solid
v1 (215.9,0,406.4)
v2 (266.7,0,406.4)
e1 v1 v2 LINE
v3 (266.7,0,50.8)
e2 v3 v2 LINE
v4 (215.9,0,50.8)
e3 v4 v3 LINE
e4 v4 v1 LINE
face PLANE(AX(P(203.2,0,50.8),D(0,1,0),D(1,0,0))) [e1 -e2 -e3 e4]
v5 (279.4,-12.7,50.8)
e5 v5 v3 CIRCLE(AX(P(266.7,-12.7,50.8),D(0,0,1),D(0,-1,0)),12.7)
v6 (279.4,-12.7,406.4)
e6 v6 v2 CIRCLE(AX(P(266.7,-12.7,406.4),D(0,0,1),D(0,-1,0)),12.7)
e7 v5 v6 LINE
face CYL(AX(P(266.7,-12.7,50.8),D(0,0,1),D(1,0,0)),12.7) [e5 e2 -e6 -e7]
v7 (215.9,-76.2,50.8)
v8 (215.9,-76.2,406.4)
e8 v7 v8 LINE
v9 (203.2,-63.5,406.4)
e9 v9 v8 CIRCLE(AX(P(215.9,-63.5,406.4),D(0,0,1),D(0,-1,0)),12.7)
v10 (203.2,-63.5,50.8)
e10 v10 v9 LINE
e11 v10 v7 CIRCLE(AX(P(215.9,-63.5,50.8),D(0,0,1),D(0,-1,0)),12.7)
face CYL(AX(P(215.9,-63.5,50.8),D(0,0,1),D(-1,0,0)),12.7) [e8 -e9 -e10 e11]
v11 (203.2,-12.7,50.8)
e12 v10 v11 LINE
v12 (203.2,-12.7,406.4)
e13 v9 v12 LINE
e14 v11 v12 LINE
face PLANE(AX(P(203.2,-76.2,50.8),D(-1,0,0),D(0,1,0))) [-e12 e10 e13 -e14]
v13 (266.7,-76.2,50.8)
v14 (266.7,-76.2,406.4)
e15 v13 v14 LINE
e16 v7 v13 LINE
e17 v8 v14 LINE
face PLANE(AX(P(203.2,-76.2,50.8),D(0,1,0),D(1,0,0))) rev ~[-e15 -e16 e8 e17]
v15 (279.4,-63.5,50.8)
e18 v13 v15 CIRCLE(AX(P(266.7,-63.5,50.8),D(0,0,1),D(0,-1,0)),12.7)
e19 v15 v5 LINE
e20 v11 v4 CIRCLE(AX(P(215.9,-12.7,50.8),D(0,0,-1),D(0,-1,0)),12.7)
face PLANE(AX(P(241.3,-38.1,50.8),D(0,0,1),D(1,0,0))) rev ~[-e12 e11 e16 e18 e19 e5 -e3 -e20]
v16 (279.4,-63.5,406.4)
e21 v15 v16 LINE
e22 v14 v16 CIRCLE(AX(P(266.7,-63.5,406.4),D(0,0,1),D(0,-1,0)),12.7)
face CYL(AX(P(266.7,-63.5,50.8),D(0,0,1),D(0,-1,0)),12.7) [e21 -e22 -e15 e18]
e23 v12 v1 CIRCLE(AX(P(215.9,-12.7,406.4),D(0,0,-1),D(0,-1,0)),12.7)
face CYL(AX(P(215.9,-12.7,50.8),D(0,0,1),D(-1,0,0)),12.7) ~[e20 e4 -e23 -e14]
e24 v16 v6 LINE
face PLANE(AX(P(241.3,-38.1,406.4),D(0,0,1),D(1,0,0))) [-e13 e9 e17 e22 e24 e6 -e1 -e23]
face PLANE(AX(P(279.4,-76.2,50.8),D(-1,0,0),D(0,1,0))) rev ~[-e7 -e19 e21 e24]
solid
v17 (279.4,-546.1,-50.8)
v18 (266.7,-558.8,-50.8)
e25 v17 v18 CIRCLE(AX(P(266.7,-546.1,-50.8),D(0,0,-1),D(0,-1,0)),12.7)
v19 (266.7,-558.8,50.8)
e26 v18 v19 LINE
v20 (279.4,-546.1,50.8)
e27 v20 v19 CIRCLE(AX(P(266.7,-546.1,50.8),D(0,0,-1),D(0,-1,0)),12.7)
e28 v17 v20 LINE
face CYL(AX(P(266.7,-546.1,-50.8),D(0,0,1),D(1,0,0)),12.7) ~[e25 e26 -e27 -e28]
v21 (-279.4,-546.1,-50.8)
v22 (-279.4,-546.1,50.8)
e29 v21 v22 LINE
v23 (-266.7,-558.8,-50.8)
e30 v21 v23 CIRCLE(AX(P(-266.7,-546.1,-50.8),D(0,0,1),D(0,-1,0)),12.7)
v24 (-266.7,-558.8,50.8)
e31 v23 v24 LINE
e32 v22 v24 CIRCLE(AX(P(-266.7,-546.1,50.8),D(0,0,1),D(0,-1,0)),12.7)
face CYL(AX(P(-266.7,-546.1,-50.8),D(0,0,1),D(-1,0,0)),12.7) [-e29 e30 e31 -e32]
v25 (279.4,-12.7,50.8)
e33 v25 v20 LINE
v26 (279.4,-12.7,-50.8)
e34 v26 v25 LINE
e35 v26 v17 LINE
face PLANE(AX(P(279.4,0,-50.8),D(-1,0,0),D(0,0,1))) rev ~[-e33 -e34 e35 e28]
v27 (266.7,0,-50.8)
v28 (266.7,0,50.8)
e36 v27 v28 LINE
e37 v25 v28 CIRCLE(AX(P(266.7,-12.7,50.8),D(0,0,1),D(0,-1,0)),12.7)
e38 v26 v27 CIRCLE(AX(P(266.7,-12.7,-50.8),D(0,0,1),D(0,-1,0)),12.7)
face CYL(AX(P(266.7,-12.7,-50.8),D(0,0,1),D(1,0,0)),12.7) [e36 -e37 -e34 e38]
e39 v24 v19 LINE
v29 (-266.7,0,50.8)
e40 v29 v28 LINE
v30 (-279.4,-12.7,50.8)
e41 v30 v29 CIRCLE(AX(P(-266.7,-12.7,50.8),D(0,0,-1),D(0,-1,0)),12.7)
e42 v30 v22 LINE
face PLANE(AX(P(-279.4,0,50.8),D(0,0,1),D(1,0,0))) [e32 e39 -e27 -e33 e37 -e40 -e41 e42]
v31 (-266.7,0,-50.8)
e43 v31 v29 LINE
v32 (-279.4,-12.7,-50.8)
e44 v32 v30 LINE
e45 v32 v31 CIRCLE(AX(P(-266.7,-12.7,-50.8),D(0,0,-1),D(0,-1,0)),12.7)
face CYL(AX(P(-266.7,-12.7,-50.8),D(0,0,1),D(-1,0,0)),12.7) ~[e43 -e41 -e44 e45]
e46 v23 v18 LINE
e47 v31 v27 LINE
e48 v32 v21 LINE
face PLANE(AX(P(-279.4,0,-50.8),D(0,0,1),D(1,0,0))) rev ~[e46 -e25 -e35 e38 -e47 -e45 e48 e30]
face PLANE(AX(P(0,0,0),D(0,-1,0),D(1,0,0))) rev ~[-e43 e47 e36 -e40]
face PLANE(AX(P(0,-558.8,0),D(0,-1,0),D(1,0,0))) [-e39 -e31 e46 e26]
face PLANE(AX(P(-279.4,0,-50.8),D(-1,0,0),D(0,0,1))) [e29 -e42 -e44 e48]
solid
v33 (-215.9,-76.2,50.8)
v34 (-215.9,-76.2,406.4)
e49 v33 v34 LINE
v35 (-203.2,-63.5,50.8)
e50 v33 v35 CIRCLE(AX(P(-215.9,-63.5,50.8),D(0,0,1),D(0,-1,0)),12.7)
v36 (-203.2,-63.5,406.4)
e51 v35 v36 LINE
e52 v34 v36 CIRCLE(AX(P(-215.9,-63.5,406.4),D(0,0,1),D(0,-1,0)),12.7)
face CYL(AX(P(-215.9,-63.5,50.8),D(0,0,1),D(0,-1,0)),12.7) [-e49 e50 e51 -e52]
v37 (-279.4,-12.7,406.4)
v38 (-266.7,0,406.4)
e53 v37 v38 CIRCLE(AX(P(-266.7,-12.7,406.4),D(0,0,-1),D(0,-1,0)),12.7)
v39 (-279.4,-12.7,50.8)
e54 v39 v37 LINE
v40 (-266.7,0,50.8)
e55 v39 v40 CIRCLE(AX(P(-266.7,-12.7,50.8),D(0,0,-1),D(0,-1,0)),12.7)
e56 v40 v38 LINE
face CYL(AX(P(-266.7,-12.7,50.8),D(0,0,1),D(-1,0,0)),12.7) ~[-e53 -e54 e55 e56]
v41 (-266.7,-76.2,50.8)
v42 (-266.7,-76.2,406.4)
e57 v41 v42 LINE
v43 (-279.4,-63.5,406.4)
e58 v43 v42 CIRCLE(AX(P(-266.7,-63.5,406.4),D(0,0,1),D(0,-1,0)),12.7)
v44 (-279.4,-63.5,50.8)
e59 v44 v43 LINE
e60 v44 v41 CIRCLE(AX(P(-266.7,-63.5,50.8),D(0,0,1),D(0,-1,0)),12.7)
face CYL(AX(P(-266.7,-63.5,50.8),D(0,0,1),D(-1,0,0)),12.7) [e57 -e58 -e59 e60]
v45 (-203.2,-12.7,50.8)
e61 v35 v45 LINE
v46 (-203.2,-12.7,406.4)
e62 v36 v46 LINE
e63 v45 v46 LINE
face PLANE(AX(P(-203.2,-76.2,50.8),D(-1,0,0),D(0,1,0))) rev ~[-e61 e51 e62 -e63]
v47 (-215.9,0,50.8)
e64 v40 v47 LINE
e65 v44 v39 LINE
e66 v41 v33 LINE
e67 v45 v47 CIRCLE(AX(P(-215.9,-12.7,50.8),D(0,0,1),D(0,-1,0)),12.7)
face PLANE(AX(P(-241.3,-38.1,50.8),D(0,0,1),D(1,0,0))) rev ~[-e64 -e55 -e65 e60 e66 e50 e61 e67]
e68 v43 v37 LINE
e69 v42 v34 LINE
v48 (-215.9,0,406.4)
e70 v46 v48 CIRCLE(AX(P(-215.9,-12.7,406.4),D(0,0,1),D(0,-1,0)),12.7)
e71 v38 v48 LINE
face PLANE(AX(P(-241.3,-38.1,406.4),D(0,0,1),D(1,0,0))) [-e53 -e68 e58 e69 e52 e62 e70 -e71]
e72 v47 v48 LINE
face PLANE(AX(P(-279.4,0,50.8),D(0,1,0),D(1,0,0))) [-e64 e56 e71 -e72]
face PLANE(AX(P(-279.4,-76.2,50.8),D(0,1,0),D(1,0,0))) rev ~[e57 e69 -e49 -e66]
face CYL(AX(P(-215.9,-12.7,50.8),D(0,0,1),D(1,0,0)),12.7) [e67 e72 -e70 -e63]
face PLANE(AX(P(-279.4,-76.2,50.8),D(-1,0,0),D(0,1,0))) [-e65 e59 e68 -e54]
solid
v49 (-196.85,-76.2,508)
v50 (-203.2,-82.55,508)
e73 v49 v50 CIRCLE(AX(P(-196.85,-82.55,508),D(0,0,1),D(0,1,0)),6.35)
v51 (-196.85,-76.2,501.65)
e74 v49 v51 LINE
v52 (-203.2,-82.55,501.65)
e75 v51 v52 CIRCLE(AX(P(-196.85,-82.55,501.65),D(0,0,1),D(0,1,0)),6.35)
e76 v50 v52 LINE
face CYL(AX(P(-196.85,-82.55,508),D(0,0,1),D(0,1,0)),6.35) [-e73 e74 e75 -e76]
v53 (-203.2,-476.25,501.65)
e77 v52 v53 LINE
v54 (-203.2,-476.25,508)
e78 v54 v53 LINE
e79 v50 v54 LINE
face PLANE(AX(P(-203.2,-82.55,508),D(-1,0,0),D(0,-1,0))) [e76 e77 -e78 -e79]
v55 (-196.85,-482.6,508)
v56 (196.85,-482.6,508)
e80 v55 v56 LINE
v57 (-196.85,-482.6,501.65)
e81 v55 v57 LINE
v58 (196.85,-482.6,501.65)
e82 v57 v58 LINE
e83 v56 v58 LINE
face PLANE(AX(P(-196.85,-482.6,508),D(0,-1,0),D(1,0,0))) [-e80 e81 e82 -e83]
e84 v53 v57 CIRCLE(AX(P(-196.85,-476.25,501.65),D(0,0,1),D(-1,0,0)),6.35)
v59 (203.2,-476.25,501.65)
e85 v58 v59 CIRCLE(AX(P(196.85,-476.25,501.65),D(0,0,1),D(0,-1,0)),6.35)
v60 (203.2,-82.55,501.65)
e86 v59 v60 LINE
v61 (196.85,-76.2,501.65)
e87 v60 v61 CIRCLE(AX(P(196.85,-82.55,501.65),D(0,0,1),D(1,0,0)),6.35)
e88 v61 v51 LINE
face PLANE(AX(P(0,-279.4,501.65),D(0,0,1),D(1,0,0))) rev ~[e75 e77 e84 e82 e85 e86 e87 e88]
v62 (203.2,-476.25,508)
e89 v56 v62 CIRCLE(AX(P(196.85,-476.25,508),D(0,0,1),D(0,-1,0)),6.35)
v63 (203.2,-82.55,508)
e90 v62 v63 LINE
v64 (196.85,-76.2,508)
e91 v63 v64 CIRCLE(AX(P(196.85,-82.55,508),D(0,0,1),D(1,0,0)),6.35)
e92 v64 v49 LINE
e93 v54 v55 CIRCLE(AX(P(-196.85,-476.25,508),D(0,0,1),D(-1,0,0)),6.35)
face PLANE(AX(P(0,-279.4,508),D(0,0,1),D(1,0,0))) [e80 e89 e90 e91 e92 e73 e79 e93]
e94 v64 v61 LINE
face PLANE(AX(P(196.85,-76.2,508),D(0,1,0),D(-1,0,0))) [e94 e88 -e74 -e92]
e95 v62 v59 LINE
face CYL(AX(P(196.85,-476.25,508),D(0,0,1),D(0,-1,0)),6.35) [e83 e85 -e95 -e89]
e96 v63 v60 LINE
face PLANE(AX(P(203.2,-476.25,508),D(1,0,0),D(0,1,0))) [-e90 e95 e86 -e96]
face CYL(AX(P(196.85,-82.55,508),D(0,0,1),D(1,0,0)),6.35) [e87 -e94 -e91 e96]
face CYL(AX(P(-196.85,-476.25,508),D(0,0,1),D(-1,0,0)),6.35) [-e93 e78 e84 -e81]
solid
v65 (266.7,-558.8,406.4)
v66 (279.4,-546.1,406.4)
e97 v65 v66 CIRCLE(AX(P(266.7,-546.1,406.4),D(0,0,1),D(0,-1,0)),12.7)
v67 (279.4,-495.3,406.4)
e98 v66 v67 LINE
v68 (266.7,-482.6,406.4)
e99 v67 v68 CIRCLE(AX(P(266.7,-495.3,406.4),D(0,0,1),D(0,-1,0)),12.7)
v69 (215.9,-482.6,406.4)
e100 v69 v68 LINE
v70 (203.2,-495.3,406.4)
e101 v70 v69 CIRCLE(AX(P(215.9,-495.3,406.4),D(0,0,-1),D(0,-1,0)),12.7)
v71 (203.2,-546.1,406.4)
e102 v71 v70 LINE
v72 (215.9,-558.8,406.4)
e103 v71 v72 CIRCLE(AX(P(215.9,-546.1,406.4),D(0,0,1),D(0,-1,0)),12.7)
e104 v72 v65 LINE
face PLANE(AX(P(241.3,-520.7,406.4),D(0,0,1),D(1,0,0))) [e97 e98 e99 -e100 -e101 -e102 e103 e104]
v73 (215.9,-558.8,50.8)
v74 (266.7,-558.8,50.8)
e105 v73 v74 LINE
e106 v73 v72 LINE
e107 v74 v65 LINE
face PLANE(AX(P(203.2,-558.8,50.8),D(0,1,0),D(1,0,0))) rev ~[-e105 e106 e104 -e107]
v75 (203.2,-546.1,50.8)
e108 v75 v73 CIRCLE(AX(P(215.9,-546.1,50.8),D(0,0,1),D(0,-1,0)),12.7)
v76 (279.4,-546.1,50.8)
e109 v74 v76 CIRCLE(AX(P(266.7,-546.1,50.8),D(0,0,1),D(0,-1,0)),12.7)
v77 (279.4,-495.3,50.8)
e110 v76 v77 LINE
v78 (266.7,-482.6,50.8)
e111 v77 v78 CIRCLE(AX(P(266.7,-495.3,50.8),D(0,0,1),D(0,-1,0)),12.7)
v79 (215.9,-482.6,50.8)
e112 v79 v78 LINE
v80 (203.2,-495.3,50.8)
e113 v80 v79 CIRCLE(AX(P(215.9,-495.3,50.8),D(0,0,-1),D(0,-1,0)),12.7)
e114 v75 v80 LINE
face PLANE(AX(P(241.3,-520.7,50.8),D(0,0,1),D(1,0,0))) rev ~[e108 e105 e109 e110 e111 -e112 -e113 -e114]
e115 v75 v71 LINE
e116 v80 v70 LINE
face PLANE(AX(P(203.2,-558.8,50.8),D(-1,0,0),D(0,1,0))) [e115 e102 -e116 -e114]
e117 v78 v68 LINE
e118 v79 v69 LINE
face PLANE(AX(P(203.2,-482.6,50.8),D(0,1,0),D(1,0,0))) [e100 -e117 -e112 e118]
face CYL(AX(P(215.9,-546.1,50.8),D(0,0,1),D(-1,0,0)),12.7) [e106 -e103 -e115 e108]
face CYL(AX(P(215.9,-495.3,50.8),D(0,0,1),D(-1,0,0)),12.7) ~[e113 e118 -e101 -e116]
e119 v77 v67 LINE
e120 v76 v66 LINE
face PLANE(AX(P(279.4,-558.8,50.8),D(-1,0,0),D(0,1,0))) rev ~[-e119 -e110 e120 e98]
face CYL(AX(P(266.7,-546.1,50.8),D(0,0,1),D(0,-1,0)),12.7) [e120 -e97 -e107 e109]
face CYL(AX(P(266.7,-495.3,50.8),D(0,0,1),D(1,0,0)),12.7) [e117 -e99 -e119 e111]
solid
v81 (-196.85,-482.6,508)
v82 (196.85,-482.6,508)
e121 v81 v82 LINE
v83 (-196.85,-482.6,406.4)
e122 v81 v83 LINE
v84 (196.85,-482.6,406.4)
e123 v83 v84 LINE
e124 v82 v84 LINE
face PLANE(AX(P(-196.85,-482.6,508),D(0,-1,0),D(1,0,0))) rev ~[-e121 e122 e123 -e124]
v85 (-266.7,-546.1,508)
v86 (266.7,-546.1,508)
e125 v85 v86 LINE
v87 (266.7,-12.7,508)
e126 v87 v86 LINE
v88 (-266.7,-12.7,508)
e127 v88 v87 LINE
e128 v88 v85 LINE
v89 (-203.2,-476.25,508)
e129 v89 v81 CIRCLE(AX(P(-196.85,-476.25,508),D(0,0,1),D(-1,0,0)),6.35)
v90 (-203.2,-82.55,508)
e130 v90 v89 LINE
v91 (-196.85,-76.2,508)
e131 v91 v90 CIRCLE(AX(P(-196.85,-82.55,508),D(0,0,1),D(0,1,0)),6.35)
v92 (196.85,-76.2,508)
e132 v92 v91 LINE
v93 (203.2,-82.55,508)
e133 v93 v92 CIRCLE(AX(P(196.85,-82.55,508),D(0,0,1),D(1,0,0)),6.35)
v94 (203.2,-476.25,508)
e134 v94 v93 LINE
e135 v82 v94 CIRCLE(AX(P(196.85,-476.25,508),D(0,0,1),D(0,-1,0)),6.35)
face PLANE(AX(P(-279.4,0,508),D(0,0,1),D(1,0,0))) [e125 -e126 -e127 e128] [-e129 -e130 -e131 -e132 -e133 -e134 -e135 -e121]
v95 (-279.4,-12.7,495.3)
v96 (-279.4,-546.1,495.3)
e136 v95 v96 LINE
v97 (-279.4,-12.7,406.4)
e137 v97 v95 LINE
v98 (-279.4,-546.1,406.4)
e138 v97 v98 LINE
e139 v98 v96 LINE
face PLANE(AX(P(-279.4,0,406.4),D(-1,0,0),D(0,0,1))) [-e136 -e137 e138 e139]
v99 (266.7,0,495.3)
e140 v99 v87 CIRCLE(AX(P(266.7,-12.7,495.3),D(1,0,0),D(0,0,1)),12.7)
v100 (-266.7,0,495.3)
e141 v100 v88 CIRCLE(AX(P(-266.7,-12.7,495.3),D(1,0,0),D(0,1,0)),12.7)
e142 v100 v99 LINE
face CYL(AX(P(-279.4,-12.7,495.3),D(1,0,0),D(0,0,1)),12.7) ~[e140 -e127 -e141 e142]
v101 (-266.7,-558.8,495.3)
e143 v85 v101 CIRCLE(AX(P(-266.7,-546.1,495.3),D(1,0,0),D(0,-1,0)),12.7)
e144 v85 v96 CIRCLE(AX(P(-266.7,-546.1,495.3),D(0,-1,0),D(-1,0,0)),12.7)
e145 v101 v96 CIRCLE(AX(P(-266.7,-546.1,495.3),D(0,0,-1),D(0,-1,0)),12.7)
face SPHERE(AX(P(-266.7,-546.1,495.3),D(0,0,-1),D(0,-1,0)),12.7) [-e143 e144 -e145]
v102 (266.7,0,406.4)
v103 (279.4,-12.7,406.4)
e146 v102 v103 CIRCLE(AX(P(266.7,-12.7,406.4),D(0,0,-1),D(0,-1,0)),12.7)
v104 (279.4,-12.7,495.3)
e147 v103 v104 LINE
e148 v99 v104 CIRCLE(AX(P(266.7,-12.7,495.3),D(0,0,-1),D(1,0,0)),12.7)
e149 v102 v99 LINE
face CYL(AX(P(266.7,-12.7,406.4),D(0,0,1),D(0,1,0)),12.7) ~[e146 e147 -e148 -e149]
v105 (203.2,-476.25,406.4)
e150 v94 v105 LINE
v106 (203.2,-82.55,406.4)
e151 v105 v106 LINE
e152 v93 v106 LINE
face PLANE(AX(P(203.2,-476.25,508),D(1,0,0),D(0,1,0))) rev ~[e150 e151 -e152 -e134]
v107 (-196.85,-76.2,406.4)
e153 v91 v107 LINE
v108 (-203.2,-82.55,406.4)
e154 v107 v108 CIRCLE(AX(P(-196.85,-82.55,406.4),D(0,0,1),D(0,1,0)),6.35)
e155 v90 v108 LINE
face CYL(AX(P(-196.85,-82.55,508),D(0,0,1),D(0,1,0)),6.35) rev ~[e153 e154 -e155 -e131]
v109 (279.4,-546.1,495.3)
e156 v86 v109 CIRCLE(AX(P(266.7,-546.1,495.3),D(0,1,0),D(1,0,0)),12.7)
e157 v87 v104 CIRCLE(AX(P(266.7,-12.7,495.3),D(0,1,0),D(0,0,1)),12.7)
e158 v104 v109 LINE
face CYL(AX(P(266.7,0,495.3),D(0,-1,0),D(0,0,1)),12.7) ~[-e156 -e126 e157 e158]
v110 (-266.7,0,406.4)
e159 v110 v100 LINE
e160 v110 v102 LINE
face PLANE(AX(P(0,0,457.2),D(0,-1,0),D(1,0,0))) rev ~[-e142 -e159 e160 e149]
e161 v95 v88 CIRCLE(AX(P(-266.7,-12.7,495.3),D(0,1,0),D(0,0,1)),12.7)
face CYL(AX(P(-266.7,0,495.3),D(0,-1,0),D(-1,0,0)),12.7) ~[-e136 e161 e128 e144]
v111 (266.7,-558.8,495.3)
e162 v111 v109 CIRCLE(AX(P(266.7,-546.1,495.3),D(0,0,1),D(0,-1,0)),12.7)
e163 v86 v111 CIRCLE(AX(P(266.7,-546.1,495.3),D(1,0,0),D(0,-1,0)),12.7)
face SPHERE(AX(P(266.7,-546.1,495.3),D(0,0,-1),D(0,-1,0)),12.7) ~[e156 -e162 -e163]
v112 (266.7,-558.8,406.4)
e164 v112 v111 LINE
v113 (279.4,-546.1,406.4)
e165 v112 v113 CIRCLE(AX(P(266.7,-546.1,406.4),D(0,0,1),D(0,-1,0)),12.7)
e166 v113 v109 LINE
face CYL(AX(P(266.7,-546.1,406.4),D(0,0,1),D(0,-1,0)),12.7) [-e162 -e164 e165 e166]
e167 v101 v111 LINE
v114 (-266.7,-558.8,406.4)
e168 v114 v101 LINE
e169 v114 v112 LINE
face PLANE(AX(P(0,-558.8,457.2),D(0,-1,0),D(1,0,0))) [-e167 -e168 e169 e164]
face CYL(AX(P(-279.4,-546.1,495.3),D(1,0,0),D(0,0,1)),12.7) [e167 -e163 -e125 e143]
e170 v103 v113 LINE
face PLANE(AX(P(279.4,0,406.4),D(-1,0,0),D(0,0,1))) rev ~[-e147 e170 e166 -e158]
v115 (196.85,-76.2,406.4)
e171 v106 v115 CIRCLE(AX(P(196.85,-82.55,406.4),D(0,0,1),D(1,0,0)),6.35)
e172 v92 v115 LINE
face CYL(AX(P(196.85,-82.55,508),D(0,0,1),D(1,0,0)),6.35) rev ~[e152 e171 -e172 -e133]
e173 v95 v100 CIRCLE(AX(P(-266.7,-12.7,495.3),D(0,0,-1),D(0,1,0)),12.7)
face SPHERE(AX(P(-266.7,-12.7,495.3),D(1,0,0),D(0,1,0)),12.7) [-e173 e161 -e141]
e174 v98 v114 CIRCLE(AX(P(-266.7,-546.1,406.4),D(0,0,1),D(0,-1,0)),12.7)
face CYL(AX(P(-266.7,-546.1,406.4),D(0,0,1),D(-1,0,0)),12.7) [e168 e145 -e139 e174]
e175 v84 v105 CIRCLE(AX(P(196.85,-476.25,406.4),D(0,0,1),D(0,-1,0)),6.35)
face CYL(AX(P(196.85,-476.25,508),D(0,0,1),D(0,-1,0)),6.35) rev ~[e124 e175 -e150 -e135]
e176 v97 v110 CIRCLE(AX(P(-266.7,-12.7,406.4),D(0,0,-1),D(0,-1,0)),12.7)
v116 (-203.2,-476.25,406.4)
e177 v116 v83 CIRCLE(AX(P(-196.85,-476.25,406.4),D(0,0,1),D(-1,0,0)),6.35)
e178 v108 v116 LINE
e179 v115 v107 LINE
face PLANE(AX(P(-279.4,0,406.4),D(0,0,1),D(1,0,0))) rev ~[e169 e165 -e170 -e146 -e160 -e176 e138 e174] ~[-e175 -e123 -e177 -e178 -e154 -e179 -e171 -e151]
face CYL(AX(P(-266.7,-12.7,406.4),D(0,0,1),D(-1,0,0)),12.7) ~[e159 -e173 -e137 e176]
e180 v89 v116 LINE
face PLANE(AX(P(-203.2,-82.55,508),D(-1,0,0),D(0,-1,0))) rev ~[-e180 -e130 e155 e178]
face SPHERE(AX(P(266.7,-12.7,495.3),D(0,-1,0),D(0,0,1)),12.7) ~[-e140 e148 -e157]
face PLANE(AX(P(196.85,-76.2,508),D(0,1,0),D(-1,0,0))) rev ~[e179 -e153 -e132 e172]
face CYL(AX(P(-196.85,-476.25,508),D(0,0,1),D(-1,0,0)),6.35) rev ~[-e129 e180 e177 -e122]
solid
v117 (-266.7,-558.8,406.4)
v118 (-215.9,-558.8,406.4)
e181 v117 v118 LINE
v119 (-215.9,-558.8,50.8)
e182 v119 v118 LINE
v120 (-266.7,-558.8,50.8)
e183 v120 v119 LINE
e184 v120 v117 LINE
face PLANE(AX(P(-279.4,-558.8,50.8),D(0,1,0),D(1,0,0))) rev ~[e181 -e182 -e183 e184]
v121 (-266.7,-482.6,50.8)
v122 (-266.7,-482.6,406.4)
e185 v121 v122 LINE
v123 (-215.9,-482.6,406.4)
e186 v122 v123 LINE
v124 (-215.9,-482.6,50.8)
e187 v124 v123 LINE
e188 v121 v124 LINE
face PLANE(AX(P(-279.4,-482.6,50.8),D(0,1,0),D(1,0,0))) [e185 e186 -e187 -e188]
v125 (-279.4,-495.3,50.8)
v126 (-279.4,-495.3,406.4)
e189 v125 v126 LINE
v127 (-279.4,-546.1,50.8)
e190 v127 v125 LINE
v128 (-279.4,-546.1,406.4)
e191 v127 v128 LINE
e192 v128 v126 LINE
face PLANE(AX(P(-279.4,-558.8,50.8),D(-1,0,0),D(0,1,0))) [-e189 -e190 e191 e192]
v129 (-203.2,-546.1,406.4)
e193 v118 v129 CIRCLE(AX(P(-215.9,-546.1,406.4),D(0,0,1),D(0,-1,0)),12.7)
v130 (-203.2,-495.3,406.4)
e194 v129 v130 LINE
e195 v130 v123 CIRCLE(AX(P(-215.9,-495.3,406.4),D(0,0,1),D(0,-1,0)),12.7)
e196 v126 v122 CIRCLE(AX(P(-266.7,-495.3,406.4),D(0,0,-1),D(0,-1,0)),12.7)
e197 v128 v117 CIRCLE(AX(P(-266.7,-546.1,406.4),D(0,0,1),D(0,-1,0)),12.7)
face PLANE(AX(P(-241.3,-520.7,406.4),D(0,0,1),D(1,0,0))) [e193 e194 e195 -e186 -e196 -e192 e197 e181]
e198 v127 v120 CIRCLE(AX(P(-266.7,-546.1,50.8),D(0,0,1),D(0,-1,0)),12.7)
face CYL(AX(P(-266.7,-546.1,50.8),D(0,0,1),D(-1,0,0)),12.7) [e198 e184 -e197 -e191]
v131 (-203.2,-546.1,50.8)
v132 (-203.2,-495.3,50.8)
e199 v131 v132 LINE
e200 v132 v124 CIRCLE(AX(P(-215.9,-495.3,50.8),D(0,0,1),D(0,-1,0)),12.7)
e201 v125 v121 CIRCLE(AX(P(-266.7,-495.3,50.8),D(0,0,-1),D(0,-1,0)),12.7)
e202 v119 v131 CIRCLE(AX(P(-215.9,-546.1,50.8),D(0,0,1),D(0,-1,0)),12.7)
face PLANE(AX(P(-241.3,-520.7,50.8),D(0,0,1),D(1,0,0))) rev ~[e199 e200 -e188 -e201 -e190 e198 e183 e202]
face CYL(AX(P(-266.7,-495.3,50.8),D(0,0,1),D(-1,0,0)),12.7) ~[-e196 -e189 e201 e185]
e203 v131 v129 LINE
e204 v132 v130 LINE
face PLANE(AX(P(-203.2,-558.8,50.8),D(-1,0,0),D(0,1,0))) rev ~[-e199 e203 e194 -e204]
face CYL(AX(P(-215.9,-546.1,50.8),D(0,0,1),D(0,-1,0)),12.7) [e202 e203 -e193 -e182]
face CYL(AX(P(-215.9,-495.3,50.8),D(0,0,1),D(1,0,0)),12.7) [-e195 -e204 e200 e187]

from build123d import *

# Parameters (mm, degrees)
F0_W     = 558.8
F0_H     = 101.6
F1_DEPTH = 558.8
F2_W     = 76.2
F2_H     = 76.2
F3_DEPTH = 355.6
F6_DEPTH = 101.6
F7_R     = 12.7
F7_2_R   = 12.7
F7_3_R   = 12.7
F7_4_R   = 12.7
F7_5_R   = 12.7
F7_6_R   = 12.7
F9_DEPTH = 6.35


with BuildPart() as f1:
    # F0 (on Front) → F1 (new body)
    with BuildSketch(Plane.XZ):
        Rectangle(F0_W, F0_H)
    extrude(amount=F1_DEPTH)


with BuildPart() as f3:
    # F2 (on face) → F3 (new body)
    with BuildSketch(Plane.XY.offset(50.8)):
        with Locations((-241.3, -38.1)):
            Rectangle(F2_W, F2_H)
    extrude(amount=F3_DEPTH)

    # F7#6
    f7_6_edges = [f3.edges().sort_by_distance(p)[0] for p in [
        (-203.2, 0, 228.6),
        (-279.4, 0, 228.6),
        (-279.4, -76.2, 228.6),
        (-203.2, -76.2, 228.6),
    ]]
    fillet(f7_6_edges, radius=F7_6_R)


with BuildPart() as f3b:
    # F2 (on face) → F3, piece 2 (new body)
    with BuildSketch(Plane.XY.offset(50.8)):
        with Locations((241.3, -38.1)):
            Rectangle(F2_W, F2_H)
    extrude(amount=F3_DEPTH)

    # F7#5
    f7_5_edges = [f3b.edges().sort_by_distance(p)[0] for p in [
        (279.4, -76.2, 228.6),
        (279.4, 0, 228.6),
        (203.2, 0, 228.6),
        (203.2, -76.2, 228.6),
    ]]
    fillet(f7_5_edges, radius=F7_5_R)


with BuildPart() as f3c:
    # F2 (on face) → F3, piece 3 (new body)
    with BuildSketch(Plane.XY.offset(50.8)):
        with Locations((241.3, -520.7)):
            Rectangle(F2_W, F2_H)
    extrude(amount=F3_DEPTH)

    # F7
    f7_edges = [f3c.edges().sort_by_distance(p)[0] for p in [
        (279.4, -558.8, 228.6),
        (203.2, -558.8, 228.6),
        (279.4, -482.6, 228.6),
        (203.2, -482.6, 228.6),
    ]]
    fillet(f7_edges, radius=F7_R)


with BuildPart() as f3d:
    # F2 (on face) → F3, piece 4 (new body)
    with BuildSketch(Plane.XY.offset(50.8)):
        with Locations((-241.3, -520.7)):
            Rectangle(F2_W, F2_H)
    extrude(amount=F3_DEPTH)

    # F7#2
    f7_2_edges = [f3d.edges().sort_by_distance(p)[0] for p in [
        (-279.4, -558.8, 228.6),
        (-203.2, -558.8, 228.6),
        (-279.4, -482.6, 228.6),
        (-203.2, -482.6, 228.6),
    ]]
    fillet(f7_2_edges, radius=F7_2_R)


with BuildPart() as f4_1:
    # F4: copy of F1
    add(f1.part.moved(Location((0, 0, 457.2))))

    # F5 (on face) → F6 (cut)
    with BuildSketch(Plane.XY.offset(508)):
        with BuildLine():
            Line((-196.85, -482.6), (196.85, -482.6))
            ThreePointArc((196.85, -482.6), (201.3401280605, -480.7401280605), (203.2, -476.25))
            Line((203.2, -476.25), (203.2, -82.55))
            ThreePointArc((203.2, -82.55), (201.3401280605, -78.0598719395), (196.85, -76.2))
            Line((196.85, -76.2), (-196.85, -76.2))
            ThreePointArc((-196.85, -76.2), (-201.3401280605, -78.0598719395), (-203.2, -82.55))
            Line((-203.2, -82.55), (-203.2, -476.25))
            ThreePointArc((-203.2, -476.25), (-201.3401280605, -480.7401280605), (-196.85, -482.6))
        make_face()
    extrude(amount=-F6_DEPTH, mode=Mode.SUBTRACT)

    # F7#4
    f7_4_edges = [f4_1.edges().sort_by_distance(p)[0] for p in [
        (-279.4, -558.8, 457.2),
        (279.4, -558.8, 457.2),
        (0, -558.8, 508),
        (279.4, -279.4, 508),
        (0, 0, 508),
        (279.4, 0, 457.2),
        (-279.4, 0, 457.2),
        (-279.4, -279.4, 508),
    ]]
    fillet(f7_4_edges, radius=F7_4_R)


with BuildPart() as f1_1:
    add(f1.part)

    # F7#3
    f7_3_edges = [f1_1.edges().sort_by_distance(p)[0] for p in [
        (-279.4, -558.8, 0),
        (279.4, -558.8, 0),
        (279.4, 0, 0),
        (-279.4, 0, 0),
    ]]
    fillet(f7_3_edges, radius=F7_3_R)


with BuildPart() as f9:
    # F8 (on face) → F9 (new body)
    with BuildSketch(Plane.XY.offset(508)):
        with BuildLine():
            ThreePointArc((-203.2, -476.25), (-201.3401280605, -480.7401280605), (-196.85, -482.6))
            Line((-196.85, -482.6), (196.85, -482.6))
            ThreePointArc((196.85, -482.6), (201.3401280605, -480.7401280605), (203.2, -476.25))
            Line((203.2, -476.25), (203.2, -82.55))
            ThreePointArc((203.2, -82.55), (201.3401280605, -78.0598719395), (196.85, -76.2))
            Line((196.85, -76.2), (-196.85, -76.2))
            ThreePointArc((-196.85, -76.2), (-201.3401280605, -78.0598719395), (-203.2, -82.55))
            Line((-203.2, -82.55), (-203.2, -476.25))
        make_face()
    extrude(amount=-F9_DEPTH)


solid = Compound([f3.part, f3b.part, f3c.part, f3d.part, f4_1.part, f1_1.part, f9.part])
